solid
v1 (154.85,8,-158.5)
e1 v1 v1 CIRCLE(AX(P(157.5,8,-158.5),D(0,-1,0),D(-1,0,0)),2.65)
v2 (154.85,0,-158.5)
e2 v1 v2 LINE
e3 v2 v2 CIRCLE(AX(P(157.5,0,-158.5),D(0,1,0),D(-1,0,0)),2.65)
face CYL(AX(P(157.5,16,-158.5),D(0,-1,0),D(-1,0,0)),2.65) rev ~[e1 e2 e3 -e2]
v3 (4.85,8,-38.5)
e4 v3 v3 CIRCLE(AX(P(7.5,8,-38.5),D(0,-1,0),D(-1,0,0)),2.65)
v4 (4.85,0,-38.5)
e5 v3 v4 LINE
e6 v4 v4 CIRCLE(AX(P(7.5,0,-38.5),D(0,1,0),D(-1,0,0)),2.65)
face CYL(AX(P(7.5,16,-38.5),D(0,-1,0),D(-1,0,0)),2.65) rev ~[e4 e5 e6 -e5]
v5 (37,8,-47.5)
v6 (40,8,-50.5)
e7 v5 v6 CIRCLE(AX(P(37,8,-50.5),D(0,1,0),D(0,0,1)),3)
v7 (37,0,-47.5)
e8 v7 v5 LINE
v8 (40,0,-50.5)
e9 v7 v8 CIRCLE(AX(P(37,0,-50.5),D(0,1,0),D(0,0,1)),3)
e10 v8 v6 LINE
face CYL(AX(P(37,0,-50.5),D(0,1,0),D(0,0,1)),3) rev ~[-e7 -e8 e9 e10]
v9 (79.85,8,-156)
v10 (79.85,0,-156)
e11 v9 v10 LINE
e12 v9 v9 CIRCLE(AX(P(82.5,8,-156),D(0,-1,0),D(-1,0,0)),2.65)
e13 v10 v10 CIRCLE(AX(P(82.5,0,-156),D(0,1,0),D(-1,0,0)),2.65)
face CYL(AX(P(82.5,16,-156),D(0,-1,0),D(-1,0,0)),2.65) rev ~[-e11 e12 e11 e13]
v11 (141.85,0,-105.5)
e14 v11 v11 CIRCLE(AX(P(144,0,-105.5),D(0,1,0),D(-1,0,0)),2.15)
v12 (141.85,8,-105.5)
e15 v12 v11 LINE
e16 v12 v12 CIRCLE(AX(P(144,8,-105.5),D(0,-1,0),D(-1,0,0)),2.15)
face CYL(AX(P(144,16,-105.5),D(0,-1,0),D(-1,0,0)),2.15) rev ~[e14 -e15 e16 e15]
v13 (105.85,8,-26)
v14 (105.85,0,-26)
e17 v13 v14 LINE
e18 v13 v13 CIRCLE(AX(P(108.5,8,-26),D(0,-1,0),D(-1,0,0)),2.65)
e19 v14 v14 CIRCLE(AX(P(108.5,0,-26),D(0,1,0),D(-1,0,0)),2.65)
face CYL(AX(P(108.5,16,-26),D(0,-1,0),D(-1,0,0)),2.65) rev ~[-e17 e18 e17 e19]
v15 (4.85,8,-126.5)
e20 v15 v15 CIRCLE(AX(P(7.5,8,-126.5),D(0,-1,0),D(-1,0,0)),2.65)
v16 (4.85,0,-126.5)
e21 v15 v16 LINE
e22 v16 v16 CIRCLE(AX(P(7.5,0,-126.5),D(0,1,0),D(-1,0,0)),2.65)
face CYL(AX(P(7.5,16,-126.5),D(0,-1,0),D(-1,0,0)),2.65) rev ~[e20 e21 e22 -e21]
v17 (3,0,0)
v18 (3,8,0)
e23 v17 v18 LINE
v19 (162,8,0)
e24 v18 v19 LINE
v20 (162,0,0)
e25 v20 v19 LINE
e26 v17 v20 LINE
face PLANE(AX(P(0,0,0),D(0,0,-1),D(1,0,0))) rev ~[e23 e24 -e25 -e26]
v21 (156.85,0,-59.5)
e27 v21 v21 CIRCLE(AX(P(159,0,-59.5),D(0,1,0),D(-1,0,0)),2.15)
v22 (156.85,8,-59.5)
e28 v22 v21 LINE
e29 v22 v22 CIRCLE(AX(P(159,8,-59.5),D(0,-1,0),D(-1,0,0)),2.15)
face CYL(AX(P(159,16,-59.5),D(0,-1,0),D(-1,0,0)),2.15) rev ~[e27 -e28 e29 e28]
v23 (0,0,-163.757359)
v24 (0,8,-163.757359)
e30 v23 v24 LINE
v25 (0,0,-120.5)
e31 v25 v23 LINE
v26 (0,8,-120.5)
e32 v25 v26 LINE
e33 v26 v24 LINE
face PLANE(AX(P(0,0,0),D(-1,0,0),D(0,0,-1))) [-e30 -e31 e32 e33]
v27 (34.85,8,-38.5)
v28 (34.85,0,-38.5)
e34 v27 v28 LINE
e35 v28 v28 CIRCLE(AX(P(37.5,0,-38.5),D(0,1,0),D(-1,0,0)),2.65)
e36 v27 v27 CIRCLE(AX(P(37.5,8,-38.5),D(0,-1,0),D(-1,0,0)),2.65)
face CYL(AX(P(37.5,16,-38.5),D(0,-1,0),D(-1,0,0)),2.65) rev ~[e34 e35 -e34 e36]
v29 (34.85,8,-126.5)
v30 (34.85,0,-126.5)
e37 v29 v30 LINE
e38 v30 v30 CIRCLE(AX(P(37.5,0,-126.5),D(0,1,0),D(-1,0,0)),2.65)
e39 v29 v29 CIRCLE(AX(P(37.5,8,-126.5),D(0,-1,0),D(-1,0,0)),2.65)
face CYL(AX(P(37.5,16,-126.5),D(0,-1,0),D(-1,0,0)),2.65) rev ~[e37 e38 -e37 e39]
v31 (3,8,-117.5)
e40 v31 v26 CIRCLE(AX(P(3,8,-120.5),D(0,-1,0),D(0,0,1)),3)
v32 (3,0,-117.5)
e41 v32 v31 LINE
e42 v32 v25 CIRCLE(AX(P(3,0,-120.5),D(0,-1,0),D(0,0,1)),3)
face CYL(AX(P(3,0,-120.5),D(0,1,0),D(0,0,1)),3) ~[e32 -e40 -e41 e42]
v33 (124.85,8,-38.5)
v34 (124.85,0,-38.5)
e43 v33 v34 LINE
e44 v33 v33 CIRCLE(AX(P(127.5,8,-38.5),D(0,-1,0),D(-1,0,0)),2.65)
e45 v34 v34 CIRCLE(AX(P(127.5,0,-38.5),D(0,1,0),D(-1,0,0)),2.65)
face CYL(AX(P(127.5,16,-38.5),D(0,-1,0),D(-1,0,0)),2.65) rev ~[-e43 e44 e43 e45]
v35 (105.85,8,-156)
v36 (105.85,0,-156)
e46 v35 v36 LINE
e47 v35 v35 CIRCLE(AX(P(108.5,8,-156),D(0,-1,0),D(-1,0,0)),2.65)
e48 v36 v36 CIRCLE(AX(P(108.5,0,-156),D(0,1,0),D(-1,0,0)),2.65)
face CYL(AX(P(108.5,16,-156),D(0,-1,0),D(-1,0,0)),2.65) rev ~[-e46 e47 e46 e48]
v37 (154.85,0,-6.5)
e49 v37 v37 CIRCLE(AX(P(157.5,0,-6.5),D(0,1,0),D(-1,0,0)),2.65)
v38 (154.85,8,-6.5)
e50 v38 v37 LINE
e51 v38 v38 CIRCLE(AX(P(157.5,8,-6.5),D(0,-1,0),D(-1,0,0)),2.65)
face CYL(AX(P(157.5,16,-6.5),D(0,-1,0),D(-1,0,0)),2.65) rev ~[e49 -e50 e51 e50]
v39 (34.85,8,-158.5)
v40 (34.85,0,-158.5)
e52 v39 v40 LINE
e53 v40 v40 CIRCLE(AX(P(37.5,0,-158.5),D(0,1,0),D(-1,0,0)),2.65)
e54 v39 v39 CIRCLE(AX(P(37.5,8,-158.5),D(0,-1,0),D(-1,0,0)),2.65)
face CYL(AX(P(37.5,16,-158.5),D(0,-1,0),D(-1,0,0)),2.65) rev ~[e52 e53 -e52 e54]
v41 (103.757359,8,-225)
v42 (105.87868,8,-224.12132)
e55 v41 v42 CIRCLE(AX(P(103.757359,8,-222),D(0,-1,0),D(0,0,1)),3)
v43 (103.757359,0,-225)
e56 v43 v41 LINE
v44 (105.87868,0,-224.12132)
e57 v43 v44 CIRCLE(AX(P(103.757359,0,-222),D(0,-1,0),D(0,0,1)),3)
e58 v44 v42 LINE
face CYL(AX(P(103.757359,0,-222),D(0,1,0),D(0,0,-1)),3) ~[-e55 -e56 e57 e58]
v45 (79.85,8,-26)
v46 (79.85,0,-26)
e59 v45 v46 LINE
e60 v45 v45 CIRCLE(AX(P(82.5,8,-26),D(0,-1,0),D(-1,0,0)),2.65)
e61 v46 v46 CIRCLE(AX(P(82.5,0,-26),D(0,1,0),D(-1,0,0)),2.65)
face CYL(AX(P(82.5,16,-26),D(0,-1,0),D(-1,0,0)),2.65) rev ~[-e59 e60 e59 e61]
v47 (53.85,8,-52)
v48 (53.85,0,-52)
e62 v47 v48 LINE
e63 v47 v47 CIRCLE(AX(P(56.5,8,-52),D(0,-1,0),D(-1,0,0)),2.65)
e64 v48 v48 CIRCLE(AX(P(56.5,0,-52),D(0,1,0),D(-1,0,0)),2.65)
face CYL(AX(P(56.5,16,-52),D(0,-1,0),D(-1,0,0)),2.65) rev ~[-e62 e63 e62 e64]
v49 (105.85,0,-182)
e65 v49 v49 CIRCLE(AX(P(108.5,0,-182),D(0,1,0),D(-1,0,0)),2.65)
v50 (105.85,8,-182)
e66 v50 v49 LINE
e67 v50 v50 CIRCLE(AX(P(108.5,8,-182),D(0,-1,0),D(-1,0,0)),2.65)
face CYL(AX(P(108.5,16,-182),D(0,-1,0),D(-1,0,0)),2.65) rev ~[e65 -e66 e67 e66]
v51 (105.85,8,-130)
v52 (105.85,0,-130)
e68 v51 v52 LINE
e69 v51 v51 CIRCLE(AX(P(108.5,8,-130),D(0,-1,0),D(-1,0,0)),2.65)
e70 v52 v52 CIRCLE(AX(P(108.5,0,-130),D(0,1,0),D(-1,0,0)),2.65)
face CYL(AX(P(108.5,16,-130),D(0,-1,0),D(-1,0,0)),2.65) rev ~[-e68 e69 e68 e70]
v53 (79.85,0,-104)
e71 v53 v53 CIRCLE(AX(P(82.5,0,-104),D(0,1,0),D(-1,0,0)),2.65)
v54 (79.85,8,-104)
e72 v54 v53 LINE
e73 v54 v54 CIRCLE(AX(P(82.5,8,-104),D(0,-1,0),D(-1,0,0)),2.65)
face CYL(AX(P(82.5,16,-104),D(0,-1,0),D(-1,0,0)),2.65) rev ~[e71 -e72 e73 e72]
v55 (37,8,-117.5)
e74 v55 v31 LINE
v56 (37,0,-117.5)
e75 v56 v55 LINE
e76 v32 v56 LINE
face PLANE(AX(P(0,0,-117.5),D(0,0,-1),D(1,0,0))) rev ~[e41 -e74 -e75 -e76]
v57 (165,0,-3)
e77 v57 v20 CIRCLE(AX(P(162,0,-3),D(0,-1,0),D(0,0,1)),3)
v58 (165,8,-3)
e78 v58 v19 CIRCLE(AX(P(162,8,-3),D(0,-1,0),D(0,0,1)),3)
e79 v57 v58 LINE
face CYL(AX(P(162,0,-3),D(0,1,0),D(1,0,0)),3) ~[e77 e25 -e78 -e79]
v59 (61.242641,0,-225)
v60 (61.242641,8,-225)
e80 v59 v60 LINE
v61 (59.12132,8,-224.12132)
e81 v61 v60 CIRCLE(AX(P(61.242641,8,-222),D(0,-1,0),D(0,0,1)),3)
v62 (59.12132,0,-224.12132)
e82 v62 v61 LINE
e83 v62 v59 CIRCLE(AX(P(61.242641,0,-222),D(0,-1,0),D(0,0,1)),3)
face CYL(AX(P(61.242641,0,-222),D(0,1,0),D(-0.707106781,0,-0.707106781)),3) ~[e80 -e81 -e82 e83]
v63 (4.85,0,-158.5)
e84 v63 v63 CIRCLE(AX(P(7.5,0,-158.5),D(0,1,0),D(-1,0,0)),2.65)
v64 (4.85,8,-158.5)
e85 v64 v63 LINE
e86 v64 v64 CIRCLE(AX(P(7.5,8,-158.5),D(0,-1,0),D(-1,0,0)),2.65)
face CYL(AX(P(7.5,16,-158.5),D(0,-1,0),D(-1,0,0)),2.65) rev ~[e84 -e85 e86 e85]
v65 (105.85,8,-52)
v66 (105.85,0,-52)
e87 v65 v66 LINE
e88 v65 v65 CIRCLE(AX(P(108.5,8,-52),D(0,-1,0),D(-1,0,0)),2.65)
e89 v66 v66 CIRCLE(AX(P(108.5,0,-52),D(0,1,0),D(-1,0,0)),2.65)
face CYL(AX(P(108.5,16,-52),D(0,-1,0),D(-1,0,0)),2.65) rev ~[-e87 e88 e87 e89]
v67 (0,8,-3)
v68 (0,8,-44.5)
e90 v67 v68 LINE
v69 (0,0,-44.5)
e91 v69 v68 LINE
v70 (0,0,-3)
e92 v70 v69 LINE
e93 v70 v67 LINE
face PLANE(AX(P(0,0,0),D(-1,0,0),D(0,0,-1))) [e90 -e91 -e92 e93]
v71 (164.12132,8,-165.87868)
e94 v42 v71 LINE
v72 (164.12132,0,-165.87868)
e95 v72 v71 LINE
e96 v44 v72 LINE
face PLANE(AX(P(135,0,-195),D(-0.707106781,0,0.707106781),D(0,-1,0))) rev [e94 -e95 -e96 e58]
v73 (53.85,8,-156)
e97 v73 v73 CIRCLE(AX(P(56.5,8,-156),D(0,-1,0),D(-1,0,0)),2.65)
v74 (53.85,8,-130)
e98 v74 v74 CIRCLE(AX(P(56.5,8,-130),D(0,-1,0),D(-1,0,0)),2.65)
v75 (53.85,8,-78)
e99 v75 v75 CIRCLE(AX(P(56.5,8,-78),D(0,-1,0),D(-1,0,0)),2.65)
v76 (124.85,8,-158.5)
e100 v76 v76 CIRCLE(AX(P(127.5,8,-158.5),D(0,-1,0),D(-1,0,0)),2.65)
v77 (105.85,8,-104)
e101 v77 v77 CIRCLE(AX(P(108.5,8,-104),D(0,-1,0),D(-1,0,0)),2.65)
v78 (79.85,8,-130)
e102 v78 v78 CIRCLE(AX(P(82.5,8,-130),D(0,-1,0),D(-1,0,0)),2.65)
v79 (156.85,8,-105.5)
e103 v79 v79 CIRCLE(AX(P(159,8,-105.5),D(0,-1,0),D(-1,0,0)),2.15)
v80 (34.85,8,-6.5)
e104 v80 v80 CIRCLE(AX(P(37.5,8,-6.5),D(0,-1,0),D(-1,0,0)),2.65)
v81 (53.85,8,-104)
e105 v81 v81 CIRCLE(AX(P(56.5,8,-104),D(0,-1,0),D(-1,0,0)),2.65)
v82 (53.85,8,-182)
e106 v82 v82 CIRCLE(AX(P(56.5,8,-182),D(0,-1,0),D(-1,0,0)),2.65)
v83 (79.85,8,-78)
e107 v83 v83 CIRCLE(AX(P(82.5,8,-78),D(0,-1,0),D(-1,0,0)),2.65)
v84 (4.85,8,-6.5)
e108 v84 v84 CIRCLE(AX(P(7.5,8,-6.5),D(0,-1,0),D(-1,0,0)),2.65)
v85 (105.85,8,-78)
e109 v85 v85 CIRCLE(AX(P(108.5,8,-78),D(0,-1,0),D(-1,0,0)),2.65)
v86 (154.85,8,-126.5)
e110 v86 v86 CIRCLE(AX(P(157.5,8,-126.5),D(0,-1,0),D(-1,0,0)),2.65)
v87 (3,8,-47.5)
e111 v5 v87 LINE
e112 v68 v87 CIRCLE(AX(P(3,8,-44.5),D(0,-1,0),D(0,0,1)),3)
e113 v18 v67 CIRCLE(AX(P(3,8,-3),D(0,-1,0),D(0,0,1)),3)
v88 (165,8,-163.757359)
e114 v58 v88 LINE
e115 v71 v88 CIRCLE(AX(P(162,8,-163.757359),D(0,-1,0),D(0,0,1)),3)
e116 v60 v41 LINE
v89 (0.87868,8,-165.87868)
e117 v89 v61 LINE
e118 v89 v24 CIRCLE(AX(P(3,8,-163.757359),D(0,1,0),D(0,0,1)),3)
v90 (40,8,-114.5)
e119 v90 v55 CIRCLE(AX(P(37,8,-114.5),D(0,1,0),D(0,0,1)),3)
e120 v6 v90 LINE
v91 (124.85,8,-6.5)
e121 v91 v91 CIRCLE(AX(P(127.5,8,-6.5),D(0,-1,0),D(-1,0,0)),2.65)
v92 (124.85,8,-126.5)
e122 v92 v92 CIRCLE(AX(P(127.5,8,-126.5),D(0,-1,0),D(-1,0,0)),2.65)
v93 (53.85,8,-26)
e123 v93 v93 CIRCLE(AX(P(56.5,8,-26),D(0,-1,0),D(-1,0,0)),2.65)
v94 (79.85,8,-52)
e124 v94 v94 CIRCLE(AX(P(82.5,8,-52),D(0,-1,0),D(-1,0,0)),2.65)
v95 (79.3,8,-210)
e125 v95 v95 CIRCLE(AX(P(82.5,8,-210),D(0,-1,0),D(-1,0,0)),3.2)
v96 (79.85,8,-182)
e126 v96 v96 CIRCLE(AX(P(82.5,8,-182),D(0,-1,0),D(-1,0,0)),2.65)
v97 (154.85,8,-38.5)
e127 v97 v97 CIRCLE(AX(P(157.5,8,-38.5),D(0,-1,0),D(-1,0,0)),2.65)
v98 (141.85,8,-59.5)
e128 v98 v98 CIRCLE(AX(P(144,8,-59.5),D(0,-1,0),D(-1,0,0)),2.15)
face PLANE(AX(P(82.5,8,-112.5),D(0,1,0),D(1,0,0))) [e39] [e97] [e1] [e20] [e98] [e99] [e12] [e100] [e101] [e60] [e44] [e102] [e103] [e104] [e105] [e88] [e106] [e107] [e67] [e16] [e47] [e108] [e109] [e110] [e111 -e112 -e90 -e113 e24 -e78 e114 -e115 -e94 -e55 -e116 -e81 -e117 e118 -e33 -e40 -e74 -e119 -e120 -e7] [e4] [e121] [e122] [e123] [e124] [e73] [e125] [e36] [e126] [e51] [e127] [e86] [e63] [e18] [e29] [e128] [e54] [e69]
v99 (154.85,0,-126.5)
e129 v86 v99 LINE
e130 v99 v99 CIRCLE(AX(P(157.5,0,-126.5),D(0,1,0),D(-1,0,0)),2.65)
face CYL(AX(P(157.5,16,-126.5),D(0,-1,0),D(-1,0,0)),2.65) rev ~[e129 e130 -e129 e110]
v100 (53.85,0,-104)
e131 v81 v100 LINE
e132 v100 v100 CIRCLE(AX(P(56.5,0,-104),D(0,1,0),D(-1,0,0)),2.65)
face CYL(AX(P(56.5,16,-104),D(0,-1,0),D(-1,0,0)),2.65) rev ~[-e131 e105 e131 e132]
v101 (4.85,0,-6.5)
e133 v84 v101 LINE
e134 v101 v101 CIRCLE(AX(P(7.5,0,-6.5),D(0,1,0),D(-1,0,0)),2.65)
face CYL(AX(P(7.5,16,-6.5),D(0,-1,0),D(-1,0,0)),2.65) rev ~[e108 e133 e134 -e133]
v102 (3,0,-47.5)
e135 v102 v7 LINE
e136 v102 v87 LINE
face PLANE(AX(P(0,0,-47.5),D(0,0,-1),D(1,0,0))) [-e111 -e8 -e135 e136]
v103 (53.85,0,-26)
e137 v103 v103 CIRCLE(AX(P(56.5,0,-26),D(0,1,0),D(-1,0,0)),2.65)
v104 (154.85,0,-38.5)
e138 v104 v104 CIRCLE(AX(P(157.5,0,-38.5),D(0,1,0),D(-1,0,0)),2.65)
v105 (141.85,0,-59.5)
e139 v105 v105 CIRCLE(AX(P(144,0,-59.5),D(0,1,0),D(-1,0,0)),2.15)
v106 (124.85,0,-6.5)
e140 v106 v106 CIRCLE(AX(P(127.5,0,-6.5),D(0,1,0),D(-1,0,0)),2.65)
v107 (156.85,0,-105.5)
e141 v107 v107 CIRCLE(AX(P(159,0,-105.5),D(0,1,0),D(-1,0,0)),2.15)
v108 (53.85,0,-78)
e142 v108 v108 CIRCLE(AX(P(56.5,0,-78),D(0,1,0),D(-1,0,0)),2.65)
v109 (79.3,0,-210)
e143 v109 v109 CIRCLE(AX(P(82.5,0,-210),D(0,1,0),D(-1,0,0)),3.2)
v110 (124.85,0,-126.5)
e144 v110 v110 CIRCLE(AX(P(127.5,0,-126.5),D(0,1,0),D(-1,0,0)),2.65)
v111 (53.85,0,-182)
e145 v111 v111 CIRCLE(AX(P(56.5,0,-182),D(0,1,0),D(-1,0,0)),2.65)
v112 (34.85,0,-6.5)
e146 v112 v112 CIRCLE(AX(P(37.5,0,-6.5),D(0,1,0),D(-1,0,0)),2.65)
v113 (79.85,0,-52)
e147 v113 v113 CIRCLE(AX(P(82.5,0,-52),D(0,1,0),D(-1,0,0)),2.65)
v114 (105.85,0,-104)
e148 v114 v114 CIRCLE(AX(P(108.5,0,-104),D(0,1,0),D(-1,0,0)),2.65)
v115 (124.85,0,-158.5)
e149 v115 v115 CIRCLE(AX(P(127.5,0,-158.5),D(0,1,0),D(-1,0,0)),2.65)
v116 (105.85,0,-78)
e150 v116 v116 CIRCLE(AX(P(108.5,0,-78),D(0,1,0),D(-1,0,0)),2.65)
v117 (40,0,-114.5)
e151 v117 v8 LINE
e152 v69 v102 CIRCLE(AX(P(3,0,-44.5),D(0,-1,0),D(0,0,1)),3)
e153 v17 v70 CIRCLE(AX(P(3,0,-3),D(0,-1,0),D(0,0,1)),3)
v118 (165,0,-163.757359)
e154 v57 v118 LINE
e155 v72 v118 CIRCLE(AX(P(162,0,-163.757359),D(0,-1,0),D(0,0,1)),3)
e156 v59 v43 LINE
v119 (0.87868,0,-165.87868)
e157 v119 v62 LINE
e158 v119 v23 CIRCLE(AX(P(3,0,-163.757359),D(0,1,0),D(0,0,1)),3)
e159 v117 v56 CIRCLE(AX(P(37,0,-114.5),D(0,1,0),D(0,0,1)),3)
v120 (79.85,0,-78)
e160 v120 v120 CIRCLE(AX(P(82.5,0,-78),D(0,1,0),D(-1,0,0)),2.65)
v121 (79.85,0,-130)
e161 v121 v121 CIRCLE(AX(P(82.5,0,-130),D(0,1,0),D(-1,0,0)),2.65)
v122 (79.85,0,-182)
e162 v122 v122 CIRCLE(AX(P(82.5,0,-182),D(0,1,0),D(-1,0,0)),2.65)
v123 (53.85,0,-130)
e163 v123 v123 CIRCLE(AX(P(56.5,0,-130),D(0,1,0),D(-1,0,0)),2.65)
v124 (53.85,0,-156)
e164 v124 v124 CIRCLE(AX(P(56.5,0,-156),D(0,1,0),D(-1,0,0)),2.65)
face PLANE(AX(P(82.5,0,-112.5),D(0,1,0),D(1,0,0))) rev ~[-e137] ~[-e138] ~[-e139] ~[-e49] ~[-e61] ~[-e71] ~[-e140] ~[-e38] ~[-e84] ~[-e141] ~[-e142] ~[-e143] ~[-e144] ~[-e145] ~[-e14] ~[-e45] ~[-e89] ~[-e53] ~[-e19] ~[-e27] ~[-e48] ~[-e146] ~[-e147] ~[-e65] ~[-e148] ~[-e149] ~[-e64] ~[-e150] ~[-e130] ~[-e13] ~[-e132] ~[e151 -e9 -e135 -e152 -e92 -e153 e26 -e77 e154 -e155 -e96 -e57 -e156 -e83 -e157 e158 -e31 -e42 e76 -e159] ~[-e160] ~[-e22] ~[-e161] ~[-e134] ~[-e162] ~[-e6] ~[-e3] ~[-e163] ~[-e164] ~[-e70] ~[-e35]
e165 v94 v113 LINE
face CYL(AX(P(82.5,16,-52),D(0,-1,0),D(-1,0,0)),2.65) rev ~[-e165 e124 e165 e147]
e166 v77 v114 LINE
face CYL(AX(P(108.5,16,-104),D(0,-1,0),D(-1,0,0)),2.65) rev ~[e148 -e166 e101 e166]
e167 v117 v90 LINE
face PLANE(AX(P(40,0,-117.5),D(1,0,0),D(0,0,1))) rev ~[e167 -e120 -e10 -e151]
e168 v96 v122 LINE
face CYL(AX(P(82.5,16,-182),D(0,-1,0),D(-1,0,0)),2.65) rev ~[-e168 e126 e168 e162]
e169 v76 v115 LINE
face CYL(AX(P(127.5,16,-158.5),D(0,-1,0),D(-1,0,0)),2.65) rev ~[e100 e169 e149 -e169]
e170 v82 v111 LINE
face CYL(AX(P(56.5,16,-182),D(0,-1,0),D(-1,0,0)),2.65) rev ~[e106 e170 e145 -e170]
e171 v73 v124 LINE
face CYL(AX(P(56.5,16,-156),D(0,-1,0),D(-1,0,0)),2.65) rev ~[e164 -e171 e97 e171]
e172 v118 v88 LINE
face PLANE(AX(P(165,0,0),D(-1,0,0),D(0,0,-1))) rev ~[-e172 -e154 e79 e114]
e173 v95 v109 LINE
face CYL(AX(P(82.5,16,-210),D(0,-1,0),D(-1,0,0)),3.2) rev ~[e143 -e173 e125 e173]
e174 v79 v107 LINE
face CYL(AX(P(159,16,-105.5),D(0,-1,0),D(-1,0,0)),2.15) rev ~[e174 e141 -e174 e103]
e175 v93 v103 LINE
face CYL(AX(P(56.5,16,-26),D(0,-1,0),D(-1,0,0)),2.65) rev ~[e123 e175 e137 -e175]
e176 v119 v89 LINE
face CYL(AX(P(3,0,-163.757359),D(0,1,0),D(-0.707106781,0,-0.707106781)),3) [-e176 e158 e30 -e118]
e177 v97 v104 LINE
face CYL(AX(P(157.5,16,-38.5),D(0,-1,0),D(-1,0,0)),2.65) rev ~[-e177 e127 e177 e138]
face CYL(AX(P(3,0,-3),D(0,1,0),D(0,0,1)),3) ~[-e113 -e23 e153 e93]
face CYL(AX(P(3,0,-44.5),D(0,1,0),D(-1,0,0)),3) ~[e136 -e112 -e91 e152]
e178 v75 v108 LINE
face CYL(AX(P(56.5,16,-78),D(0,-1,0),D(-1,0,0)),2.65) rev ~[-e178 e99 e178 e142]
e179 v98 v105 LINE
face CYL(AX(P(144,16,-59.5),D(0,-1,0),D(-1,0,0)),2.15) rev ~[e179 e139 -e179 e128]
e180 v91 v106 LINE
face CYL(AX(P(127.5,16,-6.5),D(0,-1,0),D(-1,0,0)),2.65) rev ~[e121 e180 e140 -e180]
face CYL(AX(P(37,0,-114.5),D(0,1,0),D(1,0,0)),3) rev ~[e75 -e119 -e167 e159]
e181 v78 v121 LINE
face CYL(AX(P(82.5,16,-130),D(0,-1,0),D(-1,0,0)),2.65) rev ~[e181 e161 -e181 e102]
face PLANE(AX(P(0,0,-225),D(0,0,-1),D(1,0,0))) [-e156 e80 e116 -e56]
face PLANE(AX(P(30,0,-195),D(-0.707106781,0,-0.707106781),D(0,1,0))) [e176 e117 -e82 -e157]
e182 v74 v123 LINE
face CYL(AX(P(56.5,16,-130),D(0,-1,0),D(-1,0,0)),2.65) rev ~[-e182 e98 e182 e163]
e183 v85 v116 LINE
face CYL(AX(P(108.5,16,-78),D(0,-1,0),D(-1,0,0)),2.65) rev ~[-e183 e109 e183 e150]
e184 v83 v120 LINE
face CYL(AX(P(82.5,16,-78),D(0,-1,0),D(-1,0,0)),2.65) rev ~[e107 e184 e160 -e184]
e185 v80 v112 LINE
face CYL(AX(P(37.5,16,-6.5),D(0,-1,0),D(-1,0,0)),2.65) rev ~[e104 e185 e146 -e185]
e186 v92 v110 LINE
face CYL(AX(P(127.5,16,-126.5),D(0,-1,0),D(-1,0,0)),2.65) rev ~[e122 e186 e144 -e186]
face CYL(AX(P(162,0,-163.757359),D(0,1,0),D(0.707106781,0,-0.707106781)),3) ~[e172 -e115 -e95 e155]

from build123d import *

# Parameters (mm, degrees)
SKETCH1_W                = 165
SKETCH1_H                = 225
BOSS_EXTRUDE1_DEPTH      = 8
SKETCH2_W                = 40
SKETCH2_H                = 70
CUT_EXTRUDE1_DEPTH       = 280.130793715
CHAMFER1_SIZE            = 60
M6_CLEARANCE_HOLE1_D     = 6.4
M6_CLEARANCE_HOLE1_DEPTH = 8
M6_CLEARANCE_HOLE1_TIP   = 1.922753981
M5_CLEARANCE_HOLE1_D     = 5.3
M5_CLEARANCE_HOLE1_DEPTH = 8
M5_CLEARANCE_HOLE1_TIP   = 1.59228064
M5_CLEARANCE_HOLE2_D     = 5.3
M5_CLEARANCE_HOLE2_DEPTH = 8
M5_CLEARANCE_HOLE2_TIP   = 1.59228064
FILLET1_R                = 3
M4_CLEARANCE_HOLE1_D     = 4.3
M4_CLEARANCE_HOLE1_DEPTH = 8
M4_CLEARANCE_HOLE1_TIP   = 1.291850331


with BuildPart() as part:
    # Sketch1 → Boss-Extrude1 (new body)
    with BuildSketch(Plane(origin=(0, 0, 0), x_dir=(1, 0, 0), z_dir=(0, 1, 0))):
        with Locations((82.5, 112.5)):
            Rectangle(SKETCH1_W, SKETCH1_H)
    extrude(amount=BOSS_EXTRUDE1_DEPTH)

    # Sketch2 → Cut-Extrude1 (cut, through all)
    with BuildSketch(Plane.XZ):
        with Locations((20, -82.5)):
            Rectangle(SKETCH2_W, SKETCH2_H)
    extrude(amount=-CUT_EXTRUDE1_DEPTH, mode=Mode.SUBTRACT)

    # Chamfer1
    chamfer1_edges = [part.edges().sort_by_distance(p)[0] for p in [
        (0, 4, -225),
        (165, 4, -225),
    ]]
    chamfer(chamfer1_edges, length=CHAMFER1_SIZE)

    # M6 Clearance Hole1
    with Locations(Plane(origin=(0, 8, 0), x_dir=(1, 0, 0), z_dir=(0, 1, 0))):
        with Locations((82.5, 210)):
            Hole(M6_CLEARANCE_HOLE1_D / 2, depth=M6_CLEARANCE_HOLE1_DEPTH)
            with Locations((0, 0, -(M6_CLEARANCE_HOLE1_DEPTH + M6_CLEARANCE_HOLE1_TIP / 2))):  # 118° drill point
                Cone(0, M6_CLEARANCE_HOLE1_D / 2, M6_CLEARANCE_HOLE1_TIP, mode=Mode.SUBTRACT)

    # M5 Clearance Hole1
    with Locations(Plane(origin=(0, 8, 0), x_dir=(1, 0, 0), z_dir=(0, 1, 0))):
        with Locations((7.5, 158.5), (37.5, 158.5), (37.5, 126.5), (7.5, 126.5), (157.5, 126.5), (127.5, 126.5), (127.5, 158.5), (157.5, 158.5), (157.5, 6.5), (127.5, 6.5), (127.5, 38.5), (157.5, 38.5), (7.5, 38.5), (37.5, 38.5), (37.5, 6.5), (7.5, 6.5)):
            Hole(M5_CLEARANCE_HOLE1_D / 2, depth=M5_CLEARANCE_HOLE1_DEPTH)
            with Locations((0, 0, -(M5_CLEARANCE_HOLE1_DEPTH + M5_CLEARANCE_HOLE1_TIP / 2))):  # 118° drill point
                Cone(0, M5_CLEARANCE_HOLE1_D / 2, M5_CLEARANCE_HOLE1_TIP, mode=Mode.SUBTRACT)

    # M5 Clearance Hole2
    with Locations(Plane(origin=(0, 8, 0), x_dir=(1, 0, 0), z_dir=(0, 1, 0))):
        with Locations((56.5, 26), (82.5, 26), (108.5, 26), (82.5, 52), (108.5, 52), (82.5, 78), (108.5, 78), (82.5, 104), (108.5, 104), (82.5, 130), (108.5, 130), (82.5, 156), (108.5, 156), (82.5, 182), (108.5, 182), (56.5, 52), (56.5, 78), (56.5, 104), (56.5, 130), (56.5, 156), (56.5, 182)):
            Hole(M5_CLEARANCE_HOLE2_D / 2, depth=M5_CLEARANCE_HOLE2_DEPTH)
            with Locations((0, 0, -(M5_CLEARANCE_HOLE2_DEPTH + M5_CLEARANCE_HOLE2_TIP / 2))):  # 118° drill point
                Cone(0, M5_CLEARANCE_HOLE2_D / 2, M5_CLEARANCE_HOLE2_TIP, mode=Mode.SUBTRACT)

    # Fillet1
    fillet1_edges = [part.edges().sort_by_distance(p)[0] for p in [
        (0, 4, -117.5),
        (0, 4, -47.5),
        (40, 4, -47.5),
        (40, 4, -117.5),
        (60, 4, -225),
        (105, 4, -225),
        (165, 4, -165),
        (0, 4, -165),
        (165, 4, 0),
        (0, 4, 0),
    ]]
    fillet(fillet1_edges, radius=FILLET1_R)

    # M4 Clearance Hole1
    with Locations(Plane(origin=(0, 8, 0), x_dir=(1, 0, 0), z_dir=(0, 1, 0))):
        with Locations((144, 105.5), (159, 105.5), (159, 59.5), (144, 59.5)):
            Hole(M4_CLEARANCE_HOLE1_D / 2, depth=M4_CLEARANCE_HOLE1_DEPTH)
            with Locations((0, 0, -(M4_CLEARANCE_HOLE1_DEPTH + M4_CLEARANCE_HOLE1_TIP / 2))):  # 118° drill point
                Cone(0, M4_CLEARANCE_HOLE1_D / 2, M4_CLEARANCE_HOLE1_TIP, mode=Mode.SUBTRACT)


solid = part.part
